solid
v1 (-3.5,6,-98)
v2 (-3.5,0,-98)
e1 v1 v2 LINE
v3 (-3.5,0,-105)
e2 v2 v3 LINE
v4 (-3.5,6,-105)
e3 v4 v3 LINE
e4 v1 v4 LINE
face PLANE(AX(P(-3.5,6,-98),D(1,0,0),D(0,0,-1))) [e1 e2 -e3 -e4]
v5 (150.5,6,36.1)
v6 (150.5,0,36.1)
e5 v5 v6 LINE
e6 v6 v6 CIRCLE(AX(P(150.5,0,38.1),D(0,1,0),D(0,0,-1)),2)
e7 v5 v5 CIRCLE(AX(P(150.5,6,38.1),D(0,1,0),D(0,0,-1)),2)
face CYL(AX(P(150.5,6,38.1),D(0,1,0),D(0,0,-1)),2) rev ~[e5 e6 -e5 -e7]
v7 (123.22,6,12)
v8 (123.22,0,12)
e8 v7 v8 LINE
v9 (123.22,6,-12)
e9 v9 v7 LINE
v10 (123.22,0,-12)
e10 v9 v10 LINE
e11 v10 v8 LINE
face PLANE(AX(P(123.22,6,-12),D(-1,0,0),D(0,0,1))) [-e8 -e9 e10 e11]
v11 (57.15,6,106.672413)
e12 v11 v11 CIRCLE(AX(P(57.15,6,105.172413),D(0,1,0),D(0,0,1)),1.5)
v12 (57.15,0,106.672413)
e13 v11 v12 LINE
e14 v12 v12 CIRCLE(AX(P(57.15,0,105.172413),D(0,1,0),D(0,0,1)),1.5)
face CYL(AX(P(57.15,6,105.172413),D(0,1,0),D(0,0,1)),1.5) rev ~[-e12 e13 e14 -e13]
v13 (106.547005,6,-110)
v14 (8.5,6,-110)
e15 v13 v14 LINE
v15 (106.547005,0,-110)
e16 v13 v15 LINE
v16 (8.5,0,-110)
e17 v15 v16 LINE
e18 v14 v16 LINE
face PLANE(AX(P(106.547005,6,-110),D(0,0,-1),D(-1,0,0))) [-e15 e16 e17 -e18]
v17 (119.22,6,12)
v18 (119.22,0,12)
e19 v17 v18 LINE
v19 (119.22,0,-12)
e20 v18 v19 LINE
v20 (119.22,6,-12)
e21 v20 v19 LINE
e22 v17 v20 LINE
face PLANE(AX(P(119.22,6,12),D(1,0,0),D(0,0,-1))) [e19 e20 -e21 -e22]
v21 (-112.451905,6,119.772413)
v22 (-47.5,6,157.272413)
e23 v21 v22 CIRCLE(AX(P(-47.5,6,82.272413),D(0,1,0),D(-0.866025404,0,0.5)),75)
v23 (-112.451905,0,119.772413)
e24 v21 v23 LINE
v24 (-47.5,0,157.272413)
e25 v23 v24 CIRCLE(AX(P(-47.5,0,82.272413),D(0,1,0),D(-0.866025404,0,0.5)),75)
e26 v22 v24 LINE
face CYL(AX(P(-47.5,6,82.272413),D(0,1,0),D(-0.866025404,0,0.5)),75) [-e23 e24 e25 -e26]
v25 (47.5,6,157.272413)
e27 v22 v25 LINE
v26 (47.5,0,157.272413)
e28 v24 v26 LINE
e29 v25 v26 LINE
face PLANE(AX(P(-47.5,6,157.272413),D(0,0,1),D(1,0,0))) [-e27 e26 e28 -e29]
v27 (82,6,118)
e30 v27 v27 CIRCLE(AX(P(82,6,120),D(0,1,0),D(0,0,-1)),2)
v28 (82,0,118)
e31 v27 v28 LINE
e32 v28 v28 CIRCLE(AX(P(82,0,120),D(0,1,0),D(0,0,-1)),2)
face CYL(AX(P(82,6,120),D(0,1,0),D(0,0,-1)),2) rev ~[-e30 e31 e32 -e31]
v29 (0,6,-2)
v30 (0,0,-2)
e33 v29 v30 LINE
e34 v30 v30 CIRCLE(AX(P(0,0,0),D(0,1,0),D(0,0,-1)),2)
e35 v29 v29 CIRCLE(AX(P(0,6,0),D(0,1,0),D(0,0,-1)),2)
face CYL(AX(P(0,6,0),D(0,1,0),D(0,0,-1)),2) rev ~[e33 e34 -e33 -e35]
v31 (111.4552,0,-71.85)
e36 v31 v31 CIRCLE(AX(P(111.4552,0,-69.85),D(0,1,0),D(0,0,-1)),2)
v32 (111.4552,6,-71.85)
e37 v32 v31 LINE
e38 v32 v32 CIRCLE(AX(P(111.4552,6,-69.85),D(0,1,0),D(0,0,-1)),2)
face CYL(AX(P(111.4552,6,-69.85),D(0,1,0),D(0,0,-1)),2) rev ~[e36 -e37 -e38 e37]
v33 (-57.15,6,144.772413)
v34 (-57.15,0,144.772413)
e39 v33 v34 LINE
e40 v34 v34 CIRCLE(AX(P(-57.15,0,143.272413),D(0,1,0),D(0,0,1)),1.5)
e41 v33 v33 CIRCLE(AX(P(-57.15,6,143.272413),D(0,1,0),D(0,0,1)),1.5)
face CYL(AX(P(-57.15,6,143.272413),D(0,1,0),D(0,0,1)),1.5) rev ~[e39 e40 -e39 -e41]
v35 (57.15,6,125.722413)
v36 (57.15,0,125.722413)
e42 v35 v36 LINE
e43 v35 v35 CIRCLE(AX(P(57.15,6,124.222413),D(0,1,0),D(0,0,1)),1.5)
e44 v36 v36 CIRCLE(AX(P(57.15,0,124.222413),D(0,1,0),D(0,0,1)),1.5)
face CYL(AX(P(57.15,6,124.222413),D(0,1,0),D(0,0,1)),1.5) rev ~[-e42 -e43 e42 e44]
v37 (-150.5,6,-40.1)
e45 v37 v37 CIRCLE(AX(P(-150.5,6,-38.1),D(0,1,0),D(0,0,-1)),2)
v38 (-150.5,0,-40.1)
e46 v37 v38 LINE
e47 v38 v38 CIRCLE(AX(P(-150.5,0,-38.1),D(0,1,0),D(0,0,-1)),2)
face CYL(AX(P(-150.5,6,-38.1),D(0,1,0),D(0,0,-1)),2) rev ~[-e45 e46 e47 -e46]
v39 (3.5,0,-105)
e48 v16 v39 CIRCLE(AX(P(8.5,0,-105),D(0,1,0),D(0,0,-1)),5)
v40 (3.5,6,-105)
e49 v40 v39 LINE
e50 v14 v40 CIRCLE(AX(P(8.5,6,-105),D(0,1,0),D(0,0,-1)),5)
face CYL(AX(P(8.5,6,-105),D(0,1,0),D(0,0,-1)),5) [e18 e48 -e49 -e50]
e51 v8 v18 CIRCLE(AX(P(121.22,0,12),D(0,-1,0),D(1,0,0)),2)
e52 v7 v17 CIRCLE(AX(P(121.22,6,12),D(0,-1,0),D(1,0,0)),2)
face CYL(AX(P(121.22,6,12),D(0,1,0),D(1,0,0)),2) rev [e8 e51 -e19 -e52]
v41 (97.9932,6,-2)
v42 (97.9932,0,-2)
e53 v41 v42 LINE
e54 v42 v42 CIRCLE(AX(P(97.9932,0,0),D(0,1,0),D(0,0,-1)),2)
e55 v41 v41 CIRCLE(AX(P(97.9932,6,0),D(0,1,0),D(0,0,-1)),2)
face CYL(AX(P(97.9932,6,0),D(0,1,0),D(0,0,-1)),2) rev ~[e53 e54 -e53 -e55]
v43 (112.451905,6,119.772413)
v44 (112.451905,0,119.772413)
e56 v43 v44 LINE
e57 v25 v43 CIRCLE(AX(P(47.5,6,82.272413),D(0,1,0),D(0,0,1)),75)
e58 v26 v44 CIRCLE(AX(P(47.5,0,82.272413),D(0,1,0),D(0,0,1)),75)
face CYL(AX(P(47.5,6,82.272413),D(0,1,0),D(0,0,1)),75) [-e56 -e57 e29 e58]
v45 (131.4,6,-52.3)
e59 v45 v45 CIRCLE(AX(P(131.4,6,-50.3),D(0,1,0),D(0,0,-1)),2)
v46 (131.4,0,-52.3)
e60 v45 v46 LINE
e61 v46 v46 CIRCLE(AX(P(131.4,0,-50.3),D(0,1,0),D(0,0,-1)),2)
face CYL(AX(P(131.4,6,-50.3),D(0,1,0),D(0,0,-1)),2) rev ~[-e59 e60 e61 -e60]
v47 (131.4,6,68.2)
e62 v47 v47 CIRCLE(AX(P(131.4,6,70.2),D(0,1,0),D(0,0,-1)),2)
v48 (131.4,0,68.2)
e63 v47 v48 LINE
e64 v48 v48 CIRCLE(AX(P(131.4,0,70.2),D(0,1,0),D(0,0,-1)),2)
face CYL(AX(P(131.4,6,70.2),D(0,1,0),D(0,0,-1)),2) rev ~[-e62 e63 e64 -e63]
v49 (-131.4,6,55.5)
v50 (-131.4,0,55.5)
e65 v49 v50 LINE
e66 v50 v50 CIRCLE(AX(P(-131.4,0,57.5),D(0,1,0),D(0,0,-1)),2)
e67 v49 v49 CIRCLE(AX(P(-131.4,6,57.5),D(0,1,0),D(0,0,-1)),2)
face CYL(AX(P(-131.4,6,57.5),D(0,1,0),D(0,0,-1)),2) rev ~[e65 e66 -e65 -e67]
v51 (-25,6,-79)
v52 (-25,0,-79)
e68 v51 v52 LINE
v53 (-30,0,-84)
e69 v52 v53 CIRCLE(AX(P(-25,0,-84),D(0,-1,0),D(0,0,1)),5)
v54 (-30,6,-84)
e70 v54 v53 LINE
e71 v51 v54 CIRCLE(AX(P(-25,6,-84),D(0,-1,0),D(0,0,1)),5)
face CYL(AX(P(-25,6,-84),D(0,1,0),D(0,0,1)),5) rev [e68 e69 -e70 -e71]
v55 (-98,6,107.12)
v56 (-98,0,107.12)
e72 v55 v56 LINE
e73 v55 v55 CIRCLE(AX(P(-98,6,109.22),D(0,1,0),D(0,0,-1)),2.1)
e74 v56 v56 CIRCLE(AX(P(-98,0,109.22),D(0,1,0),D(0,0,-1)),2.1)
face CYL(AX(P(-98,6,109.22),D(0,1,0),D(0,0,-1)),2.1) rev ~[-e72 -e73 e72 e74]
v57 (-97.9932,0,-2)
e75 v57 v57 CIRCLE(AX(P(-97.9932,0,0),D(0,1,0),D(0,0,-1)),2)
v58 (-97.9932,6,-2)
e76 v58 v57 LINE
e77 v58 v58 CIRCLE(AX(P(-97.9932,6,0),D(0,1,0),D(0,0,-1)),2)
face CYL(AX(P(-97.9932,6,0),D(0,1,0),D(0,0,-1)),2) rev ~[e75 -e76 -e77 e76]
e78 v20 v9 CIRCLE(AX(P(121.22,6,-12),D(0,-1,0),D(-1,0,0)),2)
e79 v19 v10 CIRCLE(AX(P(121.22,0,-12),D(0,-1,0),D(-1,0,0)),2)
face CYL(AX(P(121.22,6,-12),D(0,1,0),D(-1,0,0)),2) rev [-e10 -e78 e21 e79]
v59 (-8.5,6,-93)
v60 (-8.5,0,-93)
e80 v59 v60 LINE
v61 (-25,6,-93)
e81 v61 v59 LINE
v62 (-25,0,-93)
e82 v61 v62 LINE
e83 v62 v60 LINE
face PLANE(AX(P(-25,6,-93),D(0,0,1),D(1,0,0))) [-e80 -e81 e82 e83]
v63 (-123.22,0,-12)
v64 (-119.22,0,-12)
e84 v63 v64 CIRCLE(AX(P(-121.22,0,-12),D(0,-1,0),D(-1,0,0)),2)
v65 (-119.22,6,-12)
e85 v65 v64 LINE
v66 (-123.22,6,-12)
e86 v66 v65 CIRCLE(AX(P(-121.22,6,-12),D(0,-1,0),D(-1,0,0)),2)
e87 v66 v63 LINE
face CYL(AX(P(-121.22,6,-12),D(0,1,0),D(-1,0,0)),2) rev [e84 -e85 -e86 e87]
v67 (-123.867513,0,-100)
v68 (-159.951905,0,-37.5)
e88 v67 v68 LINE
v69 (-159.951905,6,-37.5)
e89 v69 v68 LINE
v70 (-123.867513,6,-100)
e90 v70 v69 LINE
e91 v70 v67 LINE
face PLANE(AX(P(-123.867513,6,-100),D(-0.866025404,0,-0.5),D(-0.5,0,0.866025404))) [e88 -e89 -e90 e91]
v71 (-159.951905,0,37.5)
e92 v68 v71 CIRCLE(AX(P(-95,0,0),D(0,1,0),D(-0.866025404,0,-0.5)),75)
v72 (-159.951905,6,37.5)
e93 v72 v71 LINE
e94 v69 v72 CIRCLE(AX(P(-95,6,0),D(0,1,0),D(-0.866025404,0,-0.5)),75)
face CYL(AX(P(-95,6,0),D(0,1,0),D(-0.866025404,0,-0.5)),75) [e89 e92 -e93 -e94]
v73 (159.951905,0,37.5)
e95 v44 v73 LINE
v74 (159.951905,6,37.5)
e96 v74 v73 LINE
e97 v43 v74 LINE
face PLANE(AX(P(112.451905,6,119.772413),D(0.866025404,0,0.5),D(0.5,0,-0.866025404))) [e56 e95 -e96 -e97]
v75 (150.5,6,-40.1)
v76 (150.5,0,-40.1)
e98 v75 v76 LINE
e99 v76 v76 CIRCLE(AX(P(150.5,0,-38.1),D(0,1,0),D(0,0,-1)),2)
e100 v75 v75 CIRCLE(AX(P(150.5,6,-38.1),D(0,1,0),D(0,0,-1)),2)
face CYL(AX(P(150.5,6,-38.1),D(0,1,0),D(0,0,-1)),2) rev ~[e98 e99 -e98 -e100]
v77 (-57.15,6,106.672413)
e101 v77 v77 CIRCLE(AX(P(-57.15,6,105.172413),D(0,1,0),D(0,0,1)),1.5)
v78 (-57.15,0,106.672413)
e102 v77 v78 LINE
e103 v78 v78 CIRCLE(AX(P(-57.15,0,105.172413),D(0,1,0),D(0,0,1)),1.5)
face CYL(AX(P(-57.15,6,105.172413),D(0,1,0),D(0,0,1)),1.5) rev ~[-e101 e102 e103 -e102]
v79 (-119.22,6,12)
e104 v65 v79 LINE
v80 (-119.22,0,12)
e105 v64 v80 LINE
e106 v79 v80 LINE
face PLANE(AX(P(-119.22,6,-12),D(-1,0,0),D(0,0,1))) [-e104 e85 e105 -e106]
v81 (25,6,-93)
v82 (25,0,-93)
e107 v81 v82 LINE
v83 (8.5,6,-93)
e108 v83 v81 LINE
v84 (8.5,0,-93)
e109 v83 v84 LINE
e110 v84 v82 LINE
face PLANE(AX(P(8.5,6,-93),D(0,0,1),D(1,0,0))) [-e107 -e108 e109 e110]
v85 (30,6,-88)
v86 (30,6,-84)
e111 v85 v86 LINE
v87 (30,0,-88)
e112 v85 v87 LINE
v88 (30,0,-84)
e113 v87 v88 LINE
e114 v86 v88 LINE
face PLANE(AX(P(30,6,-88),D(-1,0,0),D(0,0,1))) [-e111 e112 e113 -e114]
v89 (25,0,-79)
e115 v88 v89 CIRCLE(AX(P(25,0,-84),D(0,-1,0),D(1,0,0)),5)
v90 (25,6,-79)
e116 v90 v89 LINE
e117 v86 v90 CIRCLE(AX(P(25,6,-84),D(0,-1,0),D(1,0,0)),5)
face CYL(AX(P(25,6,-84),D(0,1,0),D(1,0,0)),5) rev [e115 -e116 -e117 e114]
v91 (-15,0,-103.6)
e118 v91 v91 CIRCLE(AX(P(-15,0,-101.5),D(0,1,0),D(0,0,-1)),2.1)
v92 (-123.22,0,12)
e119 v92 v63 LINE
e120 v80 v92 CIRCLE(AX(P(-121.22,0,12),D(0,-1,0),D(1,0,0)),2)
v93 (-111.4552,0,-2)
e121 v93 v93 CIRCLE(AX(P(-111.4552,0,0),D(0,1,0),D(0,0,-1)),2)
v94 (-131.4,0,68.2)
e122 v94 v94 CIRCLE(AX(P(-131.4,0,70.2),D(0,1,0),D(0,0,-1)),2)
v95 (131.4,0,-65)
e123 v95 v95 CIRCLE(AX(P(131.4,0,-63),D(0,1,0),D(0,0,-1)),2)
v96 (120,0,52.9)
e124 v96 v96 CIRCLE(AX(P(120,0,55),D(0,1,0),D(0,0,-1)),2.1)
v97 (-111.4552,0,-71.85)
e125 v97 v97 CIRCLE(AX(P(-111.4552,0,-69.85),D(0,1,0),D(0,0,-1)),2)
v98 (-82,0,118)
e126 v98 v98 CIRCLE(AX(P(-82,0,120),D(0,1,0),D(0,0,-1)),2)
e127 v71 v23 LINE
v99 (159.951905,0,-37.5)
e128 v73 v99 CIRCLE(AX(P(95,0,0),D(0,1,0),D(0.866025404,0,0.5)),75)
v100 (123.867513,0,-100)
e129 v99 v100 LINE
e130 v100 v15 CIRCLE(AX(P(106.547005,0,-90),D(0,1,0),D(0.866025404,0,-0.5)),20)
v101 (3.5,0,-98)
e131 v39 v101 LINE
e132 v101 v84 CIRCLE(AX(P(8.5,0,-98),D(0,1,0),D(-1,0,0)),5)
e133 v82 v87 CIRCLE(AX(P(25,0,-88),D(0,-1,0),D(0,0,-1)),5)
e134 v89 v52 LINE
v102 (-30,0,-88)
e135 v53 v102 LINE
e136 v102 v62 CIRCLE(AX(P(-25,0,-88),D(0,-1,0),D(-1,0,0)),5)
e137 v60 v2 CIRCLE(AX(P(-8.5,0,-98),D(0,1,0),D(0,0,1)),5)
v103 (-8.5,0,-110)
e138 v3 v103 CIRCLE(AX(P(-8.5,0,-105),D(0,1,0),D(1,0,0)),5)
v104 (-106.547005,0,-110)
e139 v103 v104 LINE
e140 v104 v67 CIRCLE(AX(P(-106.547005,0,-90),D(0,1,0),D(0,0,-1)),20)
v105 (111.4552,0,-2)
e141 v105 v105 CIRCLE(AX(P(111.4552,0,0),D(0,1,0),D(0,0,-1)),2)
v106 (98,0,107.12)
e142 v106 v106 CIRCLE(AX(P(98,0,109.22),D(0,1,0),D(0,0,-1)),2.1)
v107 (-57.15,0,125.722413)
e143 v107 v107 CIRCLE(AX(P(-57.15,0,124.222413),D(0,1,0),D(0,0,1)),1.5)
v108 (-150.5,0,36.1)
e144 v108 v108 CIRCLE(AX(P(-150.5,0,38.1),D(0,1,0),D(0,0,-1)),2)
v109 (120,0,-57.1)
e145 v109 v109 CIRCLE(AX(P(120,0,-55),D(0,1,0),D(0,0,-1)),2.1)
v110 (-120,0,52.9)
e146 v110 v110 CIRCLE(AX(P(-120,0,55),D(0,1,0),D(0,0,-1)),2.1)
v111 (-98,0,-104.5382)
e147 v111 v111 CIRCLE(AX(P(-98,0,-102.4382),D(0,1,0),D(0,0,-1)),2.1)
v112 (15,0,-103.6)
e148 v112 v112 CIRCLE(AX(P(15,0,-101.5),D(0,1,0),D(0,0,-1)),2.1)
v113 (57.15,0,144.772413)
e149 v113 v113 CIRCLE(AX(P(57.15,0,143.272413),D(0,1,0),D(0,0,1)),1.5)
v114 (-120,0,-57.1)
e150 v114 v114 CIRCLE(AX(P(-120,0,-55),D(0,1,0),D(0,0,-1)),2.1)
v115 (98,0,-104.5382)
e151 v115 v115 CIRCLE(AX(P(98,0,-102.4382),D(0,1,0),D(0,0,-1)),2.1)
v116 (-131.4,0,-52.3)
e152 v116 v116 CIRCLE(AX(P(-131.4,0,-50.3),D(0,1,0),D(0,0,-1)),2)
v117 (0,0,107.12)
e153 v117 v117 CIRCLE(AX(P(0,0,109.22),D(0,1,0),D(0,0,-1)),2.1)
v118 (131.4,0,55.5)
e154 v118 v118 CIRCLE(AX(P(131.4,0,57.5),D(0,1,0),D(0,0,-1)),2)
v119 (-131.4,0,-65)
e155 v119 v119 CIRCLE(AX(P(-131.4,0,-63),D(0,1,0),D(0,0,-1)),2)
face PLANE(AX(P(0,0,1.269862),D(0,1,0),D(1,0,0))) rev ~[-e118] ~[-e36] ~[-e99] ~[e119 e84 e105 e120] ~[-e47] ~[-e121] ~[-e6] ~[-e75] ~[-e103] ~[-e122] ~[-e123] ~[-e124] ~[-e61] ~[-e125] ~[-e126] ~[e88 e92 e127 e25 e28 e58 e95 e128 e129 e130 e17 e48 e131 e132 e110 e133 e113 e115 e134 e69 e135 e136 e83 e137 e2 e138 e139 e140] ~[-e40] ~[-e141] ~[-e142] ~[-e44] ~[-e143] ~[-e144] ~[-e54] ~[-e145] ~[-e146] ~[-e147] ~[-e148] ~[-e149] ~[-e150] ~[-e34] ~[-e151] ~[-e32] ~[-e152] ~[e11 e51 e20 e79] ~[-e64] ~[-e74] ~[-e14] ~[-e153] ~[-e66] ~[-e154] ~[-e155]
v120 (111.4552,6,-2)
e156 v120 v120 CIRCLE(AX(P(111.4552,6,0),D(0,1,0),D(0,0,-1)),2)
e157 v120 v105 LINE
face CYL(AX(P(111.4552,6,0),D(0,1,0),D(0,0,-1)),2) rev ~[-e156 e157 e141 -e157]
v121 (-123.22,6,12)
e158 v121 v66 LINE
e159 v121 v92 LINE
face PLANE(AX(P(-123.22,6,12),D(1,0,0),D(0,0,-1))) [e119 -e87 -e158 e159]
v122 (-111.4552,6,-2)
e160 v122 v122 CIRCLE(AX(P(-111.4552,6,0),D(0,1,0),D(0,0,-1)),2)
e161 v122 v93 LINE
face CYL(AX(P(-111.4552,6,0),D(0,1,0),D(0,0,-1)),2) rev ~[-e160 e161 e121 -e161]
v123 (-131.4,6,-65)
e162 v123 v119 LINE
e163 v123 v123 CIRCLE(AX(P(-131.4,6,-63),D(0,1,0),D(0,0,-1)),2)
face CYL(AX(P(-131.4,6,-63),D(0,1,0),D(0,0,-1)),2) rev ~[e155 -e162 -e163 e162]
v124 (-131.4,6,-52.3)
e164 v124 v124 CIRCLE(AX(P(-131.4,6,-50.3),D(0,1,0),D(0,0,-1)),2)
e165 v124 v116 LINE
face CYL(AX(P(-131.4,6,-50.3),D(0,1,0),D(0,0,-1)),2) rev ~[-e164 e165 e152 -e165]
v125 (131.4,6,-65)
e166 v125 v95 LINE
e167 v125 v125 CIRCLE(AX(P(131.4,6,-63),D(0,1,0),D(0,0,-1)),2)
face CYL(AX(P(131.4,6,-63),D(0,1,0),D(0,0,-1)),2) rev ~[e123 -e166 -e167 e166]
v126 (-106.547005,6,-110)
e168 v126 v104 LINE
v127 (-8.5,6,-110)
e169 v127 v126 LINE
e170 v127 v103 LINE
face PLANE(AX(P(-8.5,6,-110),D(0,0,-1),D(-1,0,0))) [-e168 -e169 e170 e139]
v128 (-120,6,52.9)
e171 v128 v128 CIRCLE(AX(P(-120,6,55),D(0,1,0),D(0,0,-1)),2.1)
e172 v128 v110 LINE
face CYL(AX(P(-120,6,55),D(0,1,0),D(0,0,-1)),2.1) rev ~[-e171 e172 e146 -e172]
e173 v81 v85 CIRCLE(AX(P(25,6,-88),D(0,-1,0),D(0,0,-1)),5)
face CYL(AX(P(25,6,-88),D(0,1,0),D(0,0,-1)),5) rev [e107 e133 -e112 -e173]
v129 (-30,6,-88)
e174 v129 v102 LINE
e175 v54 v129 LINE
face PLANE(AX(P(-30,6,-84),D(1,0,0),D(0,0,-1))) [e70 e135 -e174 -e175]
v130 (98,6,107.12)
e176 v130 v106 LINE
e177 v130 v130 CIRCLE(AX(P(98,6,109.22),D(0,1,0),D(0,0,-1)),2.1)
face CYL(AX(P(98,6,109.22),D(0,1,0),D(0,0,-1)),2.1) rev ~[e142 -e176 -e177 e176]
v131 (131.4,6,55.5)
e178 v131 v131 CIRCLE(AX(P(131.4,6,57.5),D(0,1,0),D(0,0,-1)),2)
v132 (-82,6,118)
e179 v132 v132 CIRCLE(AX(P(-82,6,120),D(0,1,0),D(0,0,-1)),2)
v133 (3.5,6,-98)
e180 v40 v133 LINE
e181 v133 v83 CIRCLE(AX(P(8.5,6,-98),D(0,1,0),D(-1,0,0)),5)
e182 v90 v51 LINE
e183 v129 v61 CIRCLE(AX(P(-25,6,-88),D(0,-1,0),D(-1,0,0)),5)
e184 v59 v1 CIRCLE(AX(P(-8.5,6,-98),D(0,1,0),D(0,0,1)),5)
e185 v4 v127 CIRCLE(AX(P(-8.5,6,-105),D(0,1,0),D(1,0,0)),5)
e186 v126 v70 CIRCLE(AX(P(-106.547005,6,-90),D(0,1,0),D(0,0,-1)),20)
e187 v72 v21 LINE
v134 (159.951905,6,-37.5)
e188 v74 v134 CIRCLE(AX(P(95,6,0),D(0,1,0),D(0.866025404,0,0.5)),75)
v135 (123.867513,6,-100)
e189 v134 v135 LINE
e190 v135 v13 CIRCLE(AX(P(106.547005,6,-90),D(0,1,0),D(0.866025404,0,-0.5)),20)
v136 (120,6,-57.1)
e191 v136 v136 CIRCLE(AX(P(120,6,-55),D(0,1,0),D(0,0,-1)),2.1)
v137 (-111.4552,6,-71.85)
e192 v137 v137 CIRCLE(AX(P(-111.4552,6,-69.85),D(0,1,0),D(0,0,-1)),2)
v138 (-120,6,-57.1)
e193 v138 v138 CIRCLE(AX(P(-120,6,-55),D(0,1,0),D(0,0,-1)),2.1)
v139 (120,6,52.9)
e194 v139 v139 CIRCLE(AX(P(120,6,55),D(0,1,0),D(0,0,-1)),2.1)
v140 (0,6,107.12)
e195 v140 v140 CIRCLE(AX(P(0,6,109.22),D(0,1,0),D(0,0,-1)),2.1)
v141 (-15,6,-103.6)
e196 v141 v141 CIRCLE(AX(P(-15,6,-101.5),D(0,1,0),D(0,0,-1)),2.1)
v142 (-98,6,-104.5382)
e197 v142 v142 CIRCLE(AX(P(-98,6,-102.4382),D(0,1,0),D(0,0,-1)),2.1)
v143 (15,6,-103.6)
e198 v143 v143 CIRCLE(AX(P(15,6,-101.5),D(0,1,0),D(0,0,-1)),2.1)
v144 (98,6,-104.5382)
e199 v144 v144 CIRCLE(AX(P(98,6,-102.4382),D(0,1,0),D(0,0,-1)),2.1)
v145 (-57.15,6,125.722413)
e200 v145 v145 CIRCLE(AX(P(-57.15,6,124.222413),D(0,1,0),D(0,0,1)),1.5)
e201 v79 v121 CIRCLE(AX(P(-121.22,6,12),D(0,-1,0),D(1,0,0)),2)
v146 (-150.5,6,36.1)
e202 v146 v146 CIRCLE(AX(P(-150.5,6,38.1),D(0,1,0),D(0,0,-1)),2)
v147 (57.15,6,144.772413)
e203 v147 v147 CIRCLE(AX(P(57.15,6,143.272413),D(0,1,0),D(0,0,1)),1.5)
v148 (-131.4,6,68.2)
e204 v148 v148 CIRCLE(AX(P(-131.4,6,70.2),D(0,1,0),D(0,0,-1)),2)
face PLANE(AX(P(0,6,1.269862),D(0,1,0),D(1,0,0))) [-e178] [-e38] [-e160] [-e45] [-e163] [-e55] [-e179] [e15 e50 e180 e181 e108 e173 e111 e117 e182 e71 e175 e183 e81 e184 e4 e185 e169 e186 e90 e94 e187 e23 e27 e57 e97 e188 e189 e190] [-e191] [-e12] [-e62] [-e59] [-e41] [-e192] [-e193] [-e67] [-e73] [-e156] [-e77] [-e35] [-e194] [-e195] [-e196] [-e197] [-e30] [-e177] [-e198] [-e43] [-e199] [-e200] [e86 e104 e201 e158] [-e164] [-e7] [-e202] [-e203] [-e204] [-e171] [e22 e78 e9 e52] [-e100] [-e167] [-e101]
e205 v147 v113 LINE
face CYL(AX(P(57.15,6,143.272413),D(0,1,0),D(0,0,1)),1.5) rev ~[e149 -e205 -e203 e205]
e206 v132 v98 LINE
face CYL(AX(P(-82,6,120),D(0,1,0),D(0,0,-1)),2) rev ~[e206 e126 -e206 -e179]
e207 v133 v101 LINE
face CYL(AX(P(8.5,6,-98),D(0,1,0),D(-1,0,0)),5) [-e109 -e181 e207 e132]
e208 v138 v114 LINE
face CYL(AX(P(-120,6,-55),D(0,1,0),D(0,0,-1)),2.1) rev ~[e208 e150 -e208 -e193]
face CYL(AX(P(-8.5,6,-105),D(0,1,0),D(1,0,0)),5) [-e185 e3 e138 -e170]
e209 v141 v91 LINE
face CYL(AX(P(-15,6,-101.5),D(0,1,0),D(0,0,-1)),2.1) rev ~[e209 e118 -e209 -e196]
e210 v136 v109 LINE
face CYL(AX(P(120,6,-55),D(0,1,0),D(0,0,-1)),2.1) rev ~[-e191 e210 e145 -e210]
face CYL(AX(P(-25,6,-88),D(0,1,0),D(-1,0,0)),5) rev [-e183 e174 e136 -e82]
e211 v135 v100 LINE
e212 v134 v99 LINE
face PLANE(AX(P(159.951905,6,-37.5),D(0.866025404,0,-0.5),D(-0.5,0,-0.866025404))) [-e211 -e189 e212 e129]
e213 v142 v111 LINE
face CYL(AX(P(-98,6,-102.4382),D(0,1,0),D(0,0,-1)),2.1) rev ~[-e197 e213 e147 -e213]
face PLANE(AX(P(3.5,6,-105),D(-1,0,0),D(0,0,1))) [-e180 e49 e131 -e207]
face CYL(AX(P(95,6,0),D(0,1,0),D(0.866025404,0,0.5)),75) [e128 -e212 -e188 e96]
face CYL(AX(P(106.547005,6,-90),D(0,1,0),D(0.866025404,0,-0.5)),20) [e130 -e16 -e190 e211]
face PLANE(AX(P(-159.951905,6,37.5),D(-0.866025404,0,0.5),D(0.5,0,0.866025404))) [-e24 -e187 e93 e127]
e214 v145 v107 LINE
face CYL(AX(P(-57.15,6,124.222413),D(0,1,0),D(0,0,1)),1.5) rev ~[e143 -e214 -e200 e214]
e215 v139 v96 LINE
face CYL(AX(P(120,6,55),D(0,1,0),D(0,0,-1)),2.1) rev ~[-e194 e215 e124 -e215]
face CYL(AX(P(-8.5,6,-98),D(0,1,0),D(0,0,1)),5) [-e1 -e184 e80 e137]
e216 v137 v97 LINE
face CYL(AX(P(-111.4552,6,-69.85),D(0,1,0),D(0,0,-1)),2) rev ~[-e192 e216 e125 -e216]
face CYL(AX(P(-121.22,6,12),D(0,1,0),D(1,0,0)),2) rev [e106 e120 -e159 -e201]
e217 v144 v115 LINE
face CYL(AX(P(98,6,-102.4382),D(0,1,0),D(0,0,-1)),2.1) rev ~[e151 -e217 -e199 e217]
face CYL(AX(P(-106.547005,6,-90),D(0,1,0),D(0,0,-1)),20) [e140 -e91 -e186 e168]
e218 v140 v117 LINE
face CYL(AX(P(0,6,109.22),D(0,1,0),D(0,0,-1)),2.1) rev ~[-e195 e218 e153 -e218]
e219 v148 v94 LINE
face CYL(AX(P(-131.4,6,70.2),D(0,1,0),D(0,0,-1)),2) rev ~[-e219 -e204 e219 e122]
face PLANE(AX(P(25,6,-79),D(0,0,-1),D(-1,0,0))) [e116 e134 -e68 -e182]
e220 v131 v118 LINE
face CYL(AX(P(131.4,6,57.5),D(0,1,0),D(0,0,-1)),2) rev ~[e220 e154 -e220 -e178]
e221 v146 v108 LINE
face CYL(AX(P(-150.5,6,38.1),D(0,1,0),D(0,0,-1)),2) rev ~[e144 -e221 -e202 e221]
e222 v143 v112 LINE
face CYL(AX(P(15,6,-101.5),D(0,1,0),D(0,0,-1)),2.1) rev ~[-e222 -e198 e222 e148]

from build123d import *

# Parameters (mm, degrees)
ESBO_O1_R                = 2
ESBO_O1_R_2              = 2.1
RESSALTO_EXTRUS_O1_DEPTH = 6
ESBO_O3_R                = 1.5
CORTE_EXTRUS_O1_DEPTH    = 232.669186565


with BuildPart() as part:
    # Esboço1 → Ressalto-extrusão1 (new body)
    with BuildSketch(Plane(origin=(0, 6, 0), x_dir=(1, 0, 0), z_dir=(0, 1, 0))):
        with BuildLine():
            Line((-3.5, 98), (-3.5, 105))
            ThreePointArc((-3.5, 105), (-4.964466094, 108.535533906), (-8.5, 110))
            Line((-8.5, 110), (-106.547005384, 110))
            ThreePointArc((-106.547005384, 110), (-116.547005384, 107.320508076), (-123.867513459, 100))
            Line((-123.867513459, 100), (-159.951905284, 37.5))
            ThreePointArc((-159.951905284, 37.5), (-170, 0), (-159.951905284, -37.5))
            Line((-159.951905284, -37.5), (-112.451905284, -119.772413359))
            ThreePointArc((-112.451905284, -119.772413359), (-85, -147.224318643), (-47.5, -157.272413359))
            Line((-47.5, -157.272413359), (47.5, -157.272413359))
            ThreePointArc((47.5, -157.272413359), (85, -147.224318643), (112.451905284, -119.772413359))
            Line((112.451905284, -119.772413359), (159.951905284, -37.5))
            ThreePointArc((159.951905284, -37.5), (170, 0), (159.951905284, 37.5))
            Line((159.951905284, 37.5), (123.867513459, 100))
            ThreePointArc((123.867513459, 100), (116.547005384, 107.320508076), (106.547005384, 110))
            Line((106.547005384, 110), (8.5, 110))
            ThreePointArc((8.5, 110), (4.964466094, 108.535533906), (3.5, 105))
            Line((3.5, 105), (3.5, 98))
            ThreePointArc((3.5, 98), (4.964466094, 94.464466094), (8.5, 93))
            Line((8.5, 93), (25, 93))
            ThreePointArc((25, 93), (28.535533906, 91.535533906), (30, 88))
            Line((30, 88), (30, 84))
            ThreePointArc((30, 84), (28.535533906, 80.464466094), (25, 79))
            Line((25, 79), (-25, 79))
            ThreePointArc((-25, 79), (-28.535533906, 80.464466094), (-30, 84))
            Line((-30, 84), (-30, 88))
            ThreePointArc((-30, 88), (-28.535533906, 91.535533906), (-25, 93))
            Line((-25, 93), (-8.5, 93))
            ThreePointArc((-8.5, 93), (-4.964466094, 94.464466094), (-3.5, 98))
        make_face()
        with Locations(Location((-82, -120, 0), (0, 0, 90))):
            Circle(ESBO_O1_R, mode=Mode.SUBTRACT)
        with Locations(Location((82, -120, 0), (0, 0, 90))):
            Circle(ESBO_O1_R, mode=Mode.SUBTRACT)
        with Locations(Location((150.5, -38.1, 0), (0, 0, 90))):
            Circle(ESBO_O1_R, mode=Mode.SUBTRACT)
        with Locations(Location((150.5, 38.1, 0), (0, 0, 90))):
            Circle(ESBO_O1_R, mode=Mode.SUBTRACT)
        with Locations(Location((-150.5, -38.1, 0), (0, 0, 90))):
            Circle(ESBO_O1_R, mode=Mode.SUBTRACT)
        with Locations(Location((-150.5, 38.1, 0), (0, 0, 90))):
            Circle(ESBO_O1_R, mode=Mode.SUBTRACT)
        with Locations(Location((15, 101.5, 0), (0, 0, 90))):
            Circle(ESBO_O1_R_2, mode=Mode.SUBTRACT)
        with Locations(Location((98, 102.4382, 0), (0, 0, 90))):
            Circle(ESBO_O1_R_2, mode=Mode.SUBTRACT)
        with Locations(Location((-15, 101.5, 0), (0, 0, 90))):
            Circle(ESBO_O1_R_2, mode=Mode.SUBTRACT)
        with Locations(Location((131.4, -57.5, 0), (0, 0, 90))):
            Circle(ESBO_O1_R, mode=Mode.SUBTRACT)
        with Locations(Location((-131.4, -57.5, 0), (0, 0, 90))):
            Circle(ESBO_O1_R, mode=Mode.SUBTRACT)
        with Locations(Location((131.4, 63, 0), (0, 0, 90))):
            Circle(ESBO_O1_R, mode=Mode.SUBTRACT)
        with Locations(Location((-131.4, 63, 0), (0, 0, 90))):
            Circle(ESBO_O1_R, mode=Mode.SUBTRACT)
        with Locations(Location((131.4, -70.2, 0), (0, 0, 90))):
            Circle(ESBO_O1_R, mode=Mode.SUBTRACT)
        with Locations(Location((-131.4, -70.2, 0), (0, 0, 90))):
            Circle(ESBO_O1_R, mode=Mode.SUBTRACT)
        with Locations(Location((131.4, 50.3, 0), (0, 0, 90))):
            Circle(ESBO_O1_R, mode=Mode.SUBTRACT)
        with Locations(Location((-131.4, 50.3, 0), (0, 0, 90))):
            Circle(ESBO_O1_R, mode=Mode.SUBTRACT)
        with Locations(Location((120, 55, 0), (0, 0, 90))):
            Circle(ESBO_O1_R_2, mode=Mode.SUBTRACT)
        with Locations(Location((-120, 55, 0), (0, 0, 90))):
            Circle(ESBO_O1_R_2, mode=Mode.SUBTRACT)
        with Locations(Location((-120, -55, 0), (0, 0, 90))):
            Circle(ESBO_O1_R_2, mode=Mode.SUBTRACT)
        with Locations(Location((120, -55, 0), (0, 0, 90))):
            Circle(ESBO_O1_R_2, mode=Mode.SUBTRACT)
        with Locations(Location((111.4552, 0, 0), (0, 0, 90))):
            Circle(ESBO_O1_R, mode=Mode.SUBTRACT)
        with Locations(Location((111.4552, 69.85, 0), (0, 0, 90))):
            Circle(ESBO_O1_R, mode=Mode.SUBTRACT)
        with Locations(Location((-111.4552, 0, 0), (0, 0, 90))):
            Circle(ESBO_O1_R, mode=Mode.SUBTRACT)
        with Locations(Location((-111.4552, 69.85, 0), (0, 0, 90))):
            Circle(ESBO_O1_R, mode=Mode.SUBTRACT)
        with Locations(Location((-97.9932, 0, 0), (0, 0, 90))):
            Circle(ESBO_O1_R, mode=Mode.SUBTRACT)
        with Locations(Location((97.9932, 0, 0), (0, 0, 90))):
            Circle(ESBO_O1_R, mode=Mode.SUBTRACT)
        with Locations(Location((0, 0, 0), (0, 0, 90))):
            Circle(ESBO_O1_R, mode=Mode.SUBTRACT)
        with Locations(Location((98, -109.22, 0), (0, 0, 90))):
            Circle(ESBO_O1_R_2, mode=Mode.SUBTRACT)
        with Locations(Location((-98, -109.22, 0), (0, 0, 90))):
            Circle(ESBO_O1_R_2, mode=Mode.SUBTRACT)
        with Locations(Location((0, -109.22, 0), (0, 0, 90))):
            Circle(ESBO_O1_R_2, mode=Mode.SUBTRACT)
        with Locations(Location((-98, 102.4382, 0), (0, 0, 90))):
            Circle(ESBO_O1_R_2, mode=Mode.SUBTRACT)
        with BuildLine():
            Line((123.22, 12), (123.22, -12))
            ThreePointArc((123.22, -12), (121.22, -14), (119.22, -12))
            Line((119.22, -12), (119.22, 12))
            ThreePointArc((119.22, 12), (121.22, 14), (123.22, 12))
        make_face(mode=Mode.SUBTRACT)
        with BuildLine():
            Line((-123.22, -12), (-123.22, 12))
            ThreePointArc((-123.22, 12), (-121.22, 14), (-119.22, 12))
            Line((-119.22, 12), (-119.22, -12))
            ThreePointArc((-119.22, -12), (-121.22, -14), (-123.22, -12))
        make_face(mode=Mode.SUBTRACT)
    extrude(amount=-RESSALTO_EXTRUS_O1_DEPTH)

    # Esboço3 → Corte-extrusão1 (cut, through all)
    with BuildSketch(Plane(origin=(0, 6, 0), x_dir=(1, 0, 0), z_dir=(0, 1, 0))):
        with Locations(Location((-57.15, -143.272413359, 0), (0, 0, 270))):
            Circle(ESBO_O3_R)
        with Locations(Location((57.15, -143.272413359, 0), (0, 0, 270))):
            Circle(ESBO_O3_R)
        with Locations(Location((-57.15, -124.222413359, 0), (0, 0, 270))):
            Circle(ESBO_O3_R)
        with Locations(Location((57.15, -124.222413359, 0), (0, 0, 270))):
            Circle(ESBO_O3_R)
        with Locations(Location((-57.15, -105.172413359, 0), (0, 0, 270))):
            Circle(ESBO_O3_R)
        with Locations(Location((57.15, -105.172413359, 0), (0, 0, 270))):
            Circle(ESBO_O3_R)
    extrude(amount=-CORTE_EXTRUS_O1_DEPTH, mode=Mode.SUBTRACT)


solid = part.part
